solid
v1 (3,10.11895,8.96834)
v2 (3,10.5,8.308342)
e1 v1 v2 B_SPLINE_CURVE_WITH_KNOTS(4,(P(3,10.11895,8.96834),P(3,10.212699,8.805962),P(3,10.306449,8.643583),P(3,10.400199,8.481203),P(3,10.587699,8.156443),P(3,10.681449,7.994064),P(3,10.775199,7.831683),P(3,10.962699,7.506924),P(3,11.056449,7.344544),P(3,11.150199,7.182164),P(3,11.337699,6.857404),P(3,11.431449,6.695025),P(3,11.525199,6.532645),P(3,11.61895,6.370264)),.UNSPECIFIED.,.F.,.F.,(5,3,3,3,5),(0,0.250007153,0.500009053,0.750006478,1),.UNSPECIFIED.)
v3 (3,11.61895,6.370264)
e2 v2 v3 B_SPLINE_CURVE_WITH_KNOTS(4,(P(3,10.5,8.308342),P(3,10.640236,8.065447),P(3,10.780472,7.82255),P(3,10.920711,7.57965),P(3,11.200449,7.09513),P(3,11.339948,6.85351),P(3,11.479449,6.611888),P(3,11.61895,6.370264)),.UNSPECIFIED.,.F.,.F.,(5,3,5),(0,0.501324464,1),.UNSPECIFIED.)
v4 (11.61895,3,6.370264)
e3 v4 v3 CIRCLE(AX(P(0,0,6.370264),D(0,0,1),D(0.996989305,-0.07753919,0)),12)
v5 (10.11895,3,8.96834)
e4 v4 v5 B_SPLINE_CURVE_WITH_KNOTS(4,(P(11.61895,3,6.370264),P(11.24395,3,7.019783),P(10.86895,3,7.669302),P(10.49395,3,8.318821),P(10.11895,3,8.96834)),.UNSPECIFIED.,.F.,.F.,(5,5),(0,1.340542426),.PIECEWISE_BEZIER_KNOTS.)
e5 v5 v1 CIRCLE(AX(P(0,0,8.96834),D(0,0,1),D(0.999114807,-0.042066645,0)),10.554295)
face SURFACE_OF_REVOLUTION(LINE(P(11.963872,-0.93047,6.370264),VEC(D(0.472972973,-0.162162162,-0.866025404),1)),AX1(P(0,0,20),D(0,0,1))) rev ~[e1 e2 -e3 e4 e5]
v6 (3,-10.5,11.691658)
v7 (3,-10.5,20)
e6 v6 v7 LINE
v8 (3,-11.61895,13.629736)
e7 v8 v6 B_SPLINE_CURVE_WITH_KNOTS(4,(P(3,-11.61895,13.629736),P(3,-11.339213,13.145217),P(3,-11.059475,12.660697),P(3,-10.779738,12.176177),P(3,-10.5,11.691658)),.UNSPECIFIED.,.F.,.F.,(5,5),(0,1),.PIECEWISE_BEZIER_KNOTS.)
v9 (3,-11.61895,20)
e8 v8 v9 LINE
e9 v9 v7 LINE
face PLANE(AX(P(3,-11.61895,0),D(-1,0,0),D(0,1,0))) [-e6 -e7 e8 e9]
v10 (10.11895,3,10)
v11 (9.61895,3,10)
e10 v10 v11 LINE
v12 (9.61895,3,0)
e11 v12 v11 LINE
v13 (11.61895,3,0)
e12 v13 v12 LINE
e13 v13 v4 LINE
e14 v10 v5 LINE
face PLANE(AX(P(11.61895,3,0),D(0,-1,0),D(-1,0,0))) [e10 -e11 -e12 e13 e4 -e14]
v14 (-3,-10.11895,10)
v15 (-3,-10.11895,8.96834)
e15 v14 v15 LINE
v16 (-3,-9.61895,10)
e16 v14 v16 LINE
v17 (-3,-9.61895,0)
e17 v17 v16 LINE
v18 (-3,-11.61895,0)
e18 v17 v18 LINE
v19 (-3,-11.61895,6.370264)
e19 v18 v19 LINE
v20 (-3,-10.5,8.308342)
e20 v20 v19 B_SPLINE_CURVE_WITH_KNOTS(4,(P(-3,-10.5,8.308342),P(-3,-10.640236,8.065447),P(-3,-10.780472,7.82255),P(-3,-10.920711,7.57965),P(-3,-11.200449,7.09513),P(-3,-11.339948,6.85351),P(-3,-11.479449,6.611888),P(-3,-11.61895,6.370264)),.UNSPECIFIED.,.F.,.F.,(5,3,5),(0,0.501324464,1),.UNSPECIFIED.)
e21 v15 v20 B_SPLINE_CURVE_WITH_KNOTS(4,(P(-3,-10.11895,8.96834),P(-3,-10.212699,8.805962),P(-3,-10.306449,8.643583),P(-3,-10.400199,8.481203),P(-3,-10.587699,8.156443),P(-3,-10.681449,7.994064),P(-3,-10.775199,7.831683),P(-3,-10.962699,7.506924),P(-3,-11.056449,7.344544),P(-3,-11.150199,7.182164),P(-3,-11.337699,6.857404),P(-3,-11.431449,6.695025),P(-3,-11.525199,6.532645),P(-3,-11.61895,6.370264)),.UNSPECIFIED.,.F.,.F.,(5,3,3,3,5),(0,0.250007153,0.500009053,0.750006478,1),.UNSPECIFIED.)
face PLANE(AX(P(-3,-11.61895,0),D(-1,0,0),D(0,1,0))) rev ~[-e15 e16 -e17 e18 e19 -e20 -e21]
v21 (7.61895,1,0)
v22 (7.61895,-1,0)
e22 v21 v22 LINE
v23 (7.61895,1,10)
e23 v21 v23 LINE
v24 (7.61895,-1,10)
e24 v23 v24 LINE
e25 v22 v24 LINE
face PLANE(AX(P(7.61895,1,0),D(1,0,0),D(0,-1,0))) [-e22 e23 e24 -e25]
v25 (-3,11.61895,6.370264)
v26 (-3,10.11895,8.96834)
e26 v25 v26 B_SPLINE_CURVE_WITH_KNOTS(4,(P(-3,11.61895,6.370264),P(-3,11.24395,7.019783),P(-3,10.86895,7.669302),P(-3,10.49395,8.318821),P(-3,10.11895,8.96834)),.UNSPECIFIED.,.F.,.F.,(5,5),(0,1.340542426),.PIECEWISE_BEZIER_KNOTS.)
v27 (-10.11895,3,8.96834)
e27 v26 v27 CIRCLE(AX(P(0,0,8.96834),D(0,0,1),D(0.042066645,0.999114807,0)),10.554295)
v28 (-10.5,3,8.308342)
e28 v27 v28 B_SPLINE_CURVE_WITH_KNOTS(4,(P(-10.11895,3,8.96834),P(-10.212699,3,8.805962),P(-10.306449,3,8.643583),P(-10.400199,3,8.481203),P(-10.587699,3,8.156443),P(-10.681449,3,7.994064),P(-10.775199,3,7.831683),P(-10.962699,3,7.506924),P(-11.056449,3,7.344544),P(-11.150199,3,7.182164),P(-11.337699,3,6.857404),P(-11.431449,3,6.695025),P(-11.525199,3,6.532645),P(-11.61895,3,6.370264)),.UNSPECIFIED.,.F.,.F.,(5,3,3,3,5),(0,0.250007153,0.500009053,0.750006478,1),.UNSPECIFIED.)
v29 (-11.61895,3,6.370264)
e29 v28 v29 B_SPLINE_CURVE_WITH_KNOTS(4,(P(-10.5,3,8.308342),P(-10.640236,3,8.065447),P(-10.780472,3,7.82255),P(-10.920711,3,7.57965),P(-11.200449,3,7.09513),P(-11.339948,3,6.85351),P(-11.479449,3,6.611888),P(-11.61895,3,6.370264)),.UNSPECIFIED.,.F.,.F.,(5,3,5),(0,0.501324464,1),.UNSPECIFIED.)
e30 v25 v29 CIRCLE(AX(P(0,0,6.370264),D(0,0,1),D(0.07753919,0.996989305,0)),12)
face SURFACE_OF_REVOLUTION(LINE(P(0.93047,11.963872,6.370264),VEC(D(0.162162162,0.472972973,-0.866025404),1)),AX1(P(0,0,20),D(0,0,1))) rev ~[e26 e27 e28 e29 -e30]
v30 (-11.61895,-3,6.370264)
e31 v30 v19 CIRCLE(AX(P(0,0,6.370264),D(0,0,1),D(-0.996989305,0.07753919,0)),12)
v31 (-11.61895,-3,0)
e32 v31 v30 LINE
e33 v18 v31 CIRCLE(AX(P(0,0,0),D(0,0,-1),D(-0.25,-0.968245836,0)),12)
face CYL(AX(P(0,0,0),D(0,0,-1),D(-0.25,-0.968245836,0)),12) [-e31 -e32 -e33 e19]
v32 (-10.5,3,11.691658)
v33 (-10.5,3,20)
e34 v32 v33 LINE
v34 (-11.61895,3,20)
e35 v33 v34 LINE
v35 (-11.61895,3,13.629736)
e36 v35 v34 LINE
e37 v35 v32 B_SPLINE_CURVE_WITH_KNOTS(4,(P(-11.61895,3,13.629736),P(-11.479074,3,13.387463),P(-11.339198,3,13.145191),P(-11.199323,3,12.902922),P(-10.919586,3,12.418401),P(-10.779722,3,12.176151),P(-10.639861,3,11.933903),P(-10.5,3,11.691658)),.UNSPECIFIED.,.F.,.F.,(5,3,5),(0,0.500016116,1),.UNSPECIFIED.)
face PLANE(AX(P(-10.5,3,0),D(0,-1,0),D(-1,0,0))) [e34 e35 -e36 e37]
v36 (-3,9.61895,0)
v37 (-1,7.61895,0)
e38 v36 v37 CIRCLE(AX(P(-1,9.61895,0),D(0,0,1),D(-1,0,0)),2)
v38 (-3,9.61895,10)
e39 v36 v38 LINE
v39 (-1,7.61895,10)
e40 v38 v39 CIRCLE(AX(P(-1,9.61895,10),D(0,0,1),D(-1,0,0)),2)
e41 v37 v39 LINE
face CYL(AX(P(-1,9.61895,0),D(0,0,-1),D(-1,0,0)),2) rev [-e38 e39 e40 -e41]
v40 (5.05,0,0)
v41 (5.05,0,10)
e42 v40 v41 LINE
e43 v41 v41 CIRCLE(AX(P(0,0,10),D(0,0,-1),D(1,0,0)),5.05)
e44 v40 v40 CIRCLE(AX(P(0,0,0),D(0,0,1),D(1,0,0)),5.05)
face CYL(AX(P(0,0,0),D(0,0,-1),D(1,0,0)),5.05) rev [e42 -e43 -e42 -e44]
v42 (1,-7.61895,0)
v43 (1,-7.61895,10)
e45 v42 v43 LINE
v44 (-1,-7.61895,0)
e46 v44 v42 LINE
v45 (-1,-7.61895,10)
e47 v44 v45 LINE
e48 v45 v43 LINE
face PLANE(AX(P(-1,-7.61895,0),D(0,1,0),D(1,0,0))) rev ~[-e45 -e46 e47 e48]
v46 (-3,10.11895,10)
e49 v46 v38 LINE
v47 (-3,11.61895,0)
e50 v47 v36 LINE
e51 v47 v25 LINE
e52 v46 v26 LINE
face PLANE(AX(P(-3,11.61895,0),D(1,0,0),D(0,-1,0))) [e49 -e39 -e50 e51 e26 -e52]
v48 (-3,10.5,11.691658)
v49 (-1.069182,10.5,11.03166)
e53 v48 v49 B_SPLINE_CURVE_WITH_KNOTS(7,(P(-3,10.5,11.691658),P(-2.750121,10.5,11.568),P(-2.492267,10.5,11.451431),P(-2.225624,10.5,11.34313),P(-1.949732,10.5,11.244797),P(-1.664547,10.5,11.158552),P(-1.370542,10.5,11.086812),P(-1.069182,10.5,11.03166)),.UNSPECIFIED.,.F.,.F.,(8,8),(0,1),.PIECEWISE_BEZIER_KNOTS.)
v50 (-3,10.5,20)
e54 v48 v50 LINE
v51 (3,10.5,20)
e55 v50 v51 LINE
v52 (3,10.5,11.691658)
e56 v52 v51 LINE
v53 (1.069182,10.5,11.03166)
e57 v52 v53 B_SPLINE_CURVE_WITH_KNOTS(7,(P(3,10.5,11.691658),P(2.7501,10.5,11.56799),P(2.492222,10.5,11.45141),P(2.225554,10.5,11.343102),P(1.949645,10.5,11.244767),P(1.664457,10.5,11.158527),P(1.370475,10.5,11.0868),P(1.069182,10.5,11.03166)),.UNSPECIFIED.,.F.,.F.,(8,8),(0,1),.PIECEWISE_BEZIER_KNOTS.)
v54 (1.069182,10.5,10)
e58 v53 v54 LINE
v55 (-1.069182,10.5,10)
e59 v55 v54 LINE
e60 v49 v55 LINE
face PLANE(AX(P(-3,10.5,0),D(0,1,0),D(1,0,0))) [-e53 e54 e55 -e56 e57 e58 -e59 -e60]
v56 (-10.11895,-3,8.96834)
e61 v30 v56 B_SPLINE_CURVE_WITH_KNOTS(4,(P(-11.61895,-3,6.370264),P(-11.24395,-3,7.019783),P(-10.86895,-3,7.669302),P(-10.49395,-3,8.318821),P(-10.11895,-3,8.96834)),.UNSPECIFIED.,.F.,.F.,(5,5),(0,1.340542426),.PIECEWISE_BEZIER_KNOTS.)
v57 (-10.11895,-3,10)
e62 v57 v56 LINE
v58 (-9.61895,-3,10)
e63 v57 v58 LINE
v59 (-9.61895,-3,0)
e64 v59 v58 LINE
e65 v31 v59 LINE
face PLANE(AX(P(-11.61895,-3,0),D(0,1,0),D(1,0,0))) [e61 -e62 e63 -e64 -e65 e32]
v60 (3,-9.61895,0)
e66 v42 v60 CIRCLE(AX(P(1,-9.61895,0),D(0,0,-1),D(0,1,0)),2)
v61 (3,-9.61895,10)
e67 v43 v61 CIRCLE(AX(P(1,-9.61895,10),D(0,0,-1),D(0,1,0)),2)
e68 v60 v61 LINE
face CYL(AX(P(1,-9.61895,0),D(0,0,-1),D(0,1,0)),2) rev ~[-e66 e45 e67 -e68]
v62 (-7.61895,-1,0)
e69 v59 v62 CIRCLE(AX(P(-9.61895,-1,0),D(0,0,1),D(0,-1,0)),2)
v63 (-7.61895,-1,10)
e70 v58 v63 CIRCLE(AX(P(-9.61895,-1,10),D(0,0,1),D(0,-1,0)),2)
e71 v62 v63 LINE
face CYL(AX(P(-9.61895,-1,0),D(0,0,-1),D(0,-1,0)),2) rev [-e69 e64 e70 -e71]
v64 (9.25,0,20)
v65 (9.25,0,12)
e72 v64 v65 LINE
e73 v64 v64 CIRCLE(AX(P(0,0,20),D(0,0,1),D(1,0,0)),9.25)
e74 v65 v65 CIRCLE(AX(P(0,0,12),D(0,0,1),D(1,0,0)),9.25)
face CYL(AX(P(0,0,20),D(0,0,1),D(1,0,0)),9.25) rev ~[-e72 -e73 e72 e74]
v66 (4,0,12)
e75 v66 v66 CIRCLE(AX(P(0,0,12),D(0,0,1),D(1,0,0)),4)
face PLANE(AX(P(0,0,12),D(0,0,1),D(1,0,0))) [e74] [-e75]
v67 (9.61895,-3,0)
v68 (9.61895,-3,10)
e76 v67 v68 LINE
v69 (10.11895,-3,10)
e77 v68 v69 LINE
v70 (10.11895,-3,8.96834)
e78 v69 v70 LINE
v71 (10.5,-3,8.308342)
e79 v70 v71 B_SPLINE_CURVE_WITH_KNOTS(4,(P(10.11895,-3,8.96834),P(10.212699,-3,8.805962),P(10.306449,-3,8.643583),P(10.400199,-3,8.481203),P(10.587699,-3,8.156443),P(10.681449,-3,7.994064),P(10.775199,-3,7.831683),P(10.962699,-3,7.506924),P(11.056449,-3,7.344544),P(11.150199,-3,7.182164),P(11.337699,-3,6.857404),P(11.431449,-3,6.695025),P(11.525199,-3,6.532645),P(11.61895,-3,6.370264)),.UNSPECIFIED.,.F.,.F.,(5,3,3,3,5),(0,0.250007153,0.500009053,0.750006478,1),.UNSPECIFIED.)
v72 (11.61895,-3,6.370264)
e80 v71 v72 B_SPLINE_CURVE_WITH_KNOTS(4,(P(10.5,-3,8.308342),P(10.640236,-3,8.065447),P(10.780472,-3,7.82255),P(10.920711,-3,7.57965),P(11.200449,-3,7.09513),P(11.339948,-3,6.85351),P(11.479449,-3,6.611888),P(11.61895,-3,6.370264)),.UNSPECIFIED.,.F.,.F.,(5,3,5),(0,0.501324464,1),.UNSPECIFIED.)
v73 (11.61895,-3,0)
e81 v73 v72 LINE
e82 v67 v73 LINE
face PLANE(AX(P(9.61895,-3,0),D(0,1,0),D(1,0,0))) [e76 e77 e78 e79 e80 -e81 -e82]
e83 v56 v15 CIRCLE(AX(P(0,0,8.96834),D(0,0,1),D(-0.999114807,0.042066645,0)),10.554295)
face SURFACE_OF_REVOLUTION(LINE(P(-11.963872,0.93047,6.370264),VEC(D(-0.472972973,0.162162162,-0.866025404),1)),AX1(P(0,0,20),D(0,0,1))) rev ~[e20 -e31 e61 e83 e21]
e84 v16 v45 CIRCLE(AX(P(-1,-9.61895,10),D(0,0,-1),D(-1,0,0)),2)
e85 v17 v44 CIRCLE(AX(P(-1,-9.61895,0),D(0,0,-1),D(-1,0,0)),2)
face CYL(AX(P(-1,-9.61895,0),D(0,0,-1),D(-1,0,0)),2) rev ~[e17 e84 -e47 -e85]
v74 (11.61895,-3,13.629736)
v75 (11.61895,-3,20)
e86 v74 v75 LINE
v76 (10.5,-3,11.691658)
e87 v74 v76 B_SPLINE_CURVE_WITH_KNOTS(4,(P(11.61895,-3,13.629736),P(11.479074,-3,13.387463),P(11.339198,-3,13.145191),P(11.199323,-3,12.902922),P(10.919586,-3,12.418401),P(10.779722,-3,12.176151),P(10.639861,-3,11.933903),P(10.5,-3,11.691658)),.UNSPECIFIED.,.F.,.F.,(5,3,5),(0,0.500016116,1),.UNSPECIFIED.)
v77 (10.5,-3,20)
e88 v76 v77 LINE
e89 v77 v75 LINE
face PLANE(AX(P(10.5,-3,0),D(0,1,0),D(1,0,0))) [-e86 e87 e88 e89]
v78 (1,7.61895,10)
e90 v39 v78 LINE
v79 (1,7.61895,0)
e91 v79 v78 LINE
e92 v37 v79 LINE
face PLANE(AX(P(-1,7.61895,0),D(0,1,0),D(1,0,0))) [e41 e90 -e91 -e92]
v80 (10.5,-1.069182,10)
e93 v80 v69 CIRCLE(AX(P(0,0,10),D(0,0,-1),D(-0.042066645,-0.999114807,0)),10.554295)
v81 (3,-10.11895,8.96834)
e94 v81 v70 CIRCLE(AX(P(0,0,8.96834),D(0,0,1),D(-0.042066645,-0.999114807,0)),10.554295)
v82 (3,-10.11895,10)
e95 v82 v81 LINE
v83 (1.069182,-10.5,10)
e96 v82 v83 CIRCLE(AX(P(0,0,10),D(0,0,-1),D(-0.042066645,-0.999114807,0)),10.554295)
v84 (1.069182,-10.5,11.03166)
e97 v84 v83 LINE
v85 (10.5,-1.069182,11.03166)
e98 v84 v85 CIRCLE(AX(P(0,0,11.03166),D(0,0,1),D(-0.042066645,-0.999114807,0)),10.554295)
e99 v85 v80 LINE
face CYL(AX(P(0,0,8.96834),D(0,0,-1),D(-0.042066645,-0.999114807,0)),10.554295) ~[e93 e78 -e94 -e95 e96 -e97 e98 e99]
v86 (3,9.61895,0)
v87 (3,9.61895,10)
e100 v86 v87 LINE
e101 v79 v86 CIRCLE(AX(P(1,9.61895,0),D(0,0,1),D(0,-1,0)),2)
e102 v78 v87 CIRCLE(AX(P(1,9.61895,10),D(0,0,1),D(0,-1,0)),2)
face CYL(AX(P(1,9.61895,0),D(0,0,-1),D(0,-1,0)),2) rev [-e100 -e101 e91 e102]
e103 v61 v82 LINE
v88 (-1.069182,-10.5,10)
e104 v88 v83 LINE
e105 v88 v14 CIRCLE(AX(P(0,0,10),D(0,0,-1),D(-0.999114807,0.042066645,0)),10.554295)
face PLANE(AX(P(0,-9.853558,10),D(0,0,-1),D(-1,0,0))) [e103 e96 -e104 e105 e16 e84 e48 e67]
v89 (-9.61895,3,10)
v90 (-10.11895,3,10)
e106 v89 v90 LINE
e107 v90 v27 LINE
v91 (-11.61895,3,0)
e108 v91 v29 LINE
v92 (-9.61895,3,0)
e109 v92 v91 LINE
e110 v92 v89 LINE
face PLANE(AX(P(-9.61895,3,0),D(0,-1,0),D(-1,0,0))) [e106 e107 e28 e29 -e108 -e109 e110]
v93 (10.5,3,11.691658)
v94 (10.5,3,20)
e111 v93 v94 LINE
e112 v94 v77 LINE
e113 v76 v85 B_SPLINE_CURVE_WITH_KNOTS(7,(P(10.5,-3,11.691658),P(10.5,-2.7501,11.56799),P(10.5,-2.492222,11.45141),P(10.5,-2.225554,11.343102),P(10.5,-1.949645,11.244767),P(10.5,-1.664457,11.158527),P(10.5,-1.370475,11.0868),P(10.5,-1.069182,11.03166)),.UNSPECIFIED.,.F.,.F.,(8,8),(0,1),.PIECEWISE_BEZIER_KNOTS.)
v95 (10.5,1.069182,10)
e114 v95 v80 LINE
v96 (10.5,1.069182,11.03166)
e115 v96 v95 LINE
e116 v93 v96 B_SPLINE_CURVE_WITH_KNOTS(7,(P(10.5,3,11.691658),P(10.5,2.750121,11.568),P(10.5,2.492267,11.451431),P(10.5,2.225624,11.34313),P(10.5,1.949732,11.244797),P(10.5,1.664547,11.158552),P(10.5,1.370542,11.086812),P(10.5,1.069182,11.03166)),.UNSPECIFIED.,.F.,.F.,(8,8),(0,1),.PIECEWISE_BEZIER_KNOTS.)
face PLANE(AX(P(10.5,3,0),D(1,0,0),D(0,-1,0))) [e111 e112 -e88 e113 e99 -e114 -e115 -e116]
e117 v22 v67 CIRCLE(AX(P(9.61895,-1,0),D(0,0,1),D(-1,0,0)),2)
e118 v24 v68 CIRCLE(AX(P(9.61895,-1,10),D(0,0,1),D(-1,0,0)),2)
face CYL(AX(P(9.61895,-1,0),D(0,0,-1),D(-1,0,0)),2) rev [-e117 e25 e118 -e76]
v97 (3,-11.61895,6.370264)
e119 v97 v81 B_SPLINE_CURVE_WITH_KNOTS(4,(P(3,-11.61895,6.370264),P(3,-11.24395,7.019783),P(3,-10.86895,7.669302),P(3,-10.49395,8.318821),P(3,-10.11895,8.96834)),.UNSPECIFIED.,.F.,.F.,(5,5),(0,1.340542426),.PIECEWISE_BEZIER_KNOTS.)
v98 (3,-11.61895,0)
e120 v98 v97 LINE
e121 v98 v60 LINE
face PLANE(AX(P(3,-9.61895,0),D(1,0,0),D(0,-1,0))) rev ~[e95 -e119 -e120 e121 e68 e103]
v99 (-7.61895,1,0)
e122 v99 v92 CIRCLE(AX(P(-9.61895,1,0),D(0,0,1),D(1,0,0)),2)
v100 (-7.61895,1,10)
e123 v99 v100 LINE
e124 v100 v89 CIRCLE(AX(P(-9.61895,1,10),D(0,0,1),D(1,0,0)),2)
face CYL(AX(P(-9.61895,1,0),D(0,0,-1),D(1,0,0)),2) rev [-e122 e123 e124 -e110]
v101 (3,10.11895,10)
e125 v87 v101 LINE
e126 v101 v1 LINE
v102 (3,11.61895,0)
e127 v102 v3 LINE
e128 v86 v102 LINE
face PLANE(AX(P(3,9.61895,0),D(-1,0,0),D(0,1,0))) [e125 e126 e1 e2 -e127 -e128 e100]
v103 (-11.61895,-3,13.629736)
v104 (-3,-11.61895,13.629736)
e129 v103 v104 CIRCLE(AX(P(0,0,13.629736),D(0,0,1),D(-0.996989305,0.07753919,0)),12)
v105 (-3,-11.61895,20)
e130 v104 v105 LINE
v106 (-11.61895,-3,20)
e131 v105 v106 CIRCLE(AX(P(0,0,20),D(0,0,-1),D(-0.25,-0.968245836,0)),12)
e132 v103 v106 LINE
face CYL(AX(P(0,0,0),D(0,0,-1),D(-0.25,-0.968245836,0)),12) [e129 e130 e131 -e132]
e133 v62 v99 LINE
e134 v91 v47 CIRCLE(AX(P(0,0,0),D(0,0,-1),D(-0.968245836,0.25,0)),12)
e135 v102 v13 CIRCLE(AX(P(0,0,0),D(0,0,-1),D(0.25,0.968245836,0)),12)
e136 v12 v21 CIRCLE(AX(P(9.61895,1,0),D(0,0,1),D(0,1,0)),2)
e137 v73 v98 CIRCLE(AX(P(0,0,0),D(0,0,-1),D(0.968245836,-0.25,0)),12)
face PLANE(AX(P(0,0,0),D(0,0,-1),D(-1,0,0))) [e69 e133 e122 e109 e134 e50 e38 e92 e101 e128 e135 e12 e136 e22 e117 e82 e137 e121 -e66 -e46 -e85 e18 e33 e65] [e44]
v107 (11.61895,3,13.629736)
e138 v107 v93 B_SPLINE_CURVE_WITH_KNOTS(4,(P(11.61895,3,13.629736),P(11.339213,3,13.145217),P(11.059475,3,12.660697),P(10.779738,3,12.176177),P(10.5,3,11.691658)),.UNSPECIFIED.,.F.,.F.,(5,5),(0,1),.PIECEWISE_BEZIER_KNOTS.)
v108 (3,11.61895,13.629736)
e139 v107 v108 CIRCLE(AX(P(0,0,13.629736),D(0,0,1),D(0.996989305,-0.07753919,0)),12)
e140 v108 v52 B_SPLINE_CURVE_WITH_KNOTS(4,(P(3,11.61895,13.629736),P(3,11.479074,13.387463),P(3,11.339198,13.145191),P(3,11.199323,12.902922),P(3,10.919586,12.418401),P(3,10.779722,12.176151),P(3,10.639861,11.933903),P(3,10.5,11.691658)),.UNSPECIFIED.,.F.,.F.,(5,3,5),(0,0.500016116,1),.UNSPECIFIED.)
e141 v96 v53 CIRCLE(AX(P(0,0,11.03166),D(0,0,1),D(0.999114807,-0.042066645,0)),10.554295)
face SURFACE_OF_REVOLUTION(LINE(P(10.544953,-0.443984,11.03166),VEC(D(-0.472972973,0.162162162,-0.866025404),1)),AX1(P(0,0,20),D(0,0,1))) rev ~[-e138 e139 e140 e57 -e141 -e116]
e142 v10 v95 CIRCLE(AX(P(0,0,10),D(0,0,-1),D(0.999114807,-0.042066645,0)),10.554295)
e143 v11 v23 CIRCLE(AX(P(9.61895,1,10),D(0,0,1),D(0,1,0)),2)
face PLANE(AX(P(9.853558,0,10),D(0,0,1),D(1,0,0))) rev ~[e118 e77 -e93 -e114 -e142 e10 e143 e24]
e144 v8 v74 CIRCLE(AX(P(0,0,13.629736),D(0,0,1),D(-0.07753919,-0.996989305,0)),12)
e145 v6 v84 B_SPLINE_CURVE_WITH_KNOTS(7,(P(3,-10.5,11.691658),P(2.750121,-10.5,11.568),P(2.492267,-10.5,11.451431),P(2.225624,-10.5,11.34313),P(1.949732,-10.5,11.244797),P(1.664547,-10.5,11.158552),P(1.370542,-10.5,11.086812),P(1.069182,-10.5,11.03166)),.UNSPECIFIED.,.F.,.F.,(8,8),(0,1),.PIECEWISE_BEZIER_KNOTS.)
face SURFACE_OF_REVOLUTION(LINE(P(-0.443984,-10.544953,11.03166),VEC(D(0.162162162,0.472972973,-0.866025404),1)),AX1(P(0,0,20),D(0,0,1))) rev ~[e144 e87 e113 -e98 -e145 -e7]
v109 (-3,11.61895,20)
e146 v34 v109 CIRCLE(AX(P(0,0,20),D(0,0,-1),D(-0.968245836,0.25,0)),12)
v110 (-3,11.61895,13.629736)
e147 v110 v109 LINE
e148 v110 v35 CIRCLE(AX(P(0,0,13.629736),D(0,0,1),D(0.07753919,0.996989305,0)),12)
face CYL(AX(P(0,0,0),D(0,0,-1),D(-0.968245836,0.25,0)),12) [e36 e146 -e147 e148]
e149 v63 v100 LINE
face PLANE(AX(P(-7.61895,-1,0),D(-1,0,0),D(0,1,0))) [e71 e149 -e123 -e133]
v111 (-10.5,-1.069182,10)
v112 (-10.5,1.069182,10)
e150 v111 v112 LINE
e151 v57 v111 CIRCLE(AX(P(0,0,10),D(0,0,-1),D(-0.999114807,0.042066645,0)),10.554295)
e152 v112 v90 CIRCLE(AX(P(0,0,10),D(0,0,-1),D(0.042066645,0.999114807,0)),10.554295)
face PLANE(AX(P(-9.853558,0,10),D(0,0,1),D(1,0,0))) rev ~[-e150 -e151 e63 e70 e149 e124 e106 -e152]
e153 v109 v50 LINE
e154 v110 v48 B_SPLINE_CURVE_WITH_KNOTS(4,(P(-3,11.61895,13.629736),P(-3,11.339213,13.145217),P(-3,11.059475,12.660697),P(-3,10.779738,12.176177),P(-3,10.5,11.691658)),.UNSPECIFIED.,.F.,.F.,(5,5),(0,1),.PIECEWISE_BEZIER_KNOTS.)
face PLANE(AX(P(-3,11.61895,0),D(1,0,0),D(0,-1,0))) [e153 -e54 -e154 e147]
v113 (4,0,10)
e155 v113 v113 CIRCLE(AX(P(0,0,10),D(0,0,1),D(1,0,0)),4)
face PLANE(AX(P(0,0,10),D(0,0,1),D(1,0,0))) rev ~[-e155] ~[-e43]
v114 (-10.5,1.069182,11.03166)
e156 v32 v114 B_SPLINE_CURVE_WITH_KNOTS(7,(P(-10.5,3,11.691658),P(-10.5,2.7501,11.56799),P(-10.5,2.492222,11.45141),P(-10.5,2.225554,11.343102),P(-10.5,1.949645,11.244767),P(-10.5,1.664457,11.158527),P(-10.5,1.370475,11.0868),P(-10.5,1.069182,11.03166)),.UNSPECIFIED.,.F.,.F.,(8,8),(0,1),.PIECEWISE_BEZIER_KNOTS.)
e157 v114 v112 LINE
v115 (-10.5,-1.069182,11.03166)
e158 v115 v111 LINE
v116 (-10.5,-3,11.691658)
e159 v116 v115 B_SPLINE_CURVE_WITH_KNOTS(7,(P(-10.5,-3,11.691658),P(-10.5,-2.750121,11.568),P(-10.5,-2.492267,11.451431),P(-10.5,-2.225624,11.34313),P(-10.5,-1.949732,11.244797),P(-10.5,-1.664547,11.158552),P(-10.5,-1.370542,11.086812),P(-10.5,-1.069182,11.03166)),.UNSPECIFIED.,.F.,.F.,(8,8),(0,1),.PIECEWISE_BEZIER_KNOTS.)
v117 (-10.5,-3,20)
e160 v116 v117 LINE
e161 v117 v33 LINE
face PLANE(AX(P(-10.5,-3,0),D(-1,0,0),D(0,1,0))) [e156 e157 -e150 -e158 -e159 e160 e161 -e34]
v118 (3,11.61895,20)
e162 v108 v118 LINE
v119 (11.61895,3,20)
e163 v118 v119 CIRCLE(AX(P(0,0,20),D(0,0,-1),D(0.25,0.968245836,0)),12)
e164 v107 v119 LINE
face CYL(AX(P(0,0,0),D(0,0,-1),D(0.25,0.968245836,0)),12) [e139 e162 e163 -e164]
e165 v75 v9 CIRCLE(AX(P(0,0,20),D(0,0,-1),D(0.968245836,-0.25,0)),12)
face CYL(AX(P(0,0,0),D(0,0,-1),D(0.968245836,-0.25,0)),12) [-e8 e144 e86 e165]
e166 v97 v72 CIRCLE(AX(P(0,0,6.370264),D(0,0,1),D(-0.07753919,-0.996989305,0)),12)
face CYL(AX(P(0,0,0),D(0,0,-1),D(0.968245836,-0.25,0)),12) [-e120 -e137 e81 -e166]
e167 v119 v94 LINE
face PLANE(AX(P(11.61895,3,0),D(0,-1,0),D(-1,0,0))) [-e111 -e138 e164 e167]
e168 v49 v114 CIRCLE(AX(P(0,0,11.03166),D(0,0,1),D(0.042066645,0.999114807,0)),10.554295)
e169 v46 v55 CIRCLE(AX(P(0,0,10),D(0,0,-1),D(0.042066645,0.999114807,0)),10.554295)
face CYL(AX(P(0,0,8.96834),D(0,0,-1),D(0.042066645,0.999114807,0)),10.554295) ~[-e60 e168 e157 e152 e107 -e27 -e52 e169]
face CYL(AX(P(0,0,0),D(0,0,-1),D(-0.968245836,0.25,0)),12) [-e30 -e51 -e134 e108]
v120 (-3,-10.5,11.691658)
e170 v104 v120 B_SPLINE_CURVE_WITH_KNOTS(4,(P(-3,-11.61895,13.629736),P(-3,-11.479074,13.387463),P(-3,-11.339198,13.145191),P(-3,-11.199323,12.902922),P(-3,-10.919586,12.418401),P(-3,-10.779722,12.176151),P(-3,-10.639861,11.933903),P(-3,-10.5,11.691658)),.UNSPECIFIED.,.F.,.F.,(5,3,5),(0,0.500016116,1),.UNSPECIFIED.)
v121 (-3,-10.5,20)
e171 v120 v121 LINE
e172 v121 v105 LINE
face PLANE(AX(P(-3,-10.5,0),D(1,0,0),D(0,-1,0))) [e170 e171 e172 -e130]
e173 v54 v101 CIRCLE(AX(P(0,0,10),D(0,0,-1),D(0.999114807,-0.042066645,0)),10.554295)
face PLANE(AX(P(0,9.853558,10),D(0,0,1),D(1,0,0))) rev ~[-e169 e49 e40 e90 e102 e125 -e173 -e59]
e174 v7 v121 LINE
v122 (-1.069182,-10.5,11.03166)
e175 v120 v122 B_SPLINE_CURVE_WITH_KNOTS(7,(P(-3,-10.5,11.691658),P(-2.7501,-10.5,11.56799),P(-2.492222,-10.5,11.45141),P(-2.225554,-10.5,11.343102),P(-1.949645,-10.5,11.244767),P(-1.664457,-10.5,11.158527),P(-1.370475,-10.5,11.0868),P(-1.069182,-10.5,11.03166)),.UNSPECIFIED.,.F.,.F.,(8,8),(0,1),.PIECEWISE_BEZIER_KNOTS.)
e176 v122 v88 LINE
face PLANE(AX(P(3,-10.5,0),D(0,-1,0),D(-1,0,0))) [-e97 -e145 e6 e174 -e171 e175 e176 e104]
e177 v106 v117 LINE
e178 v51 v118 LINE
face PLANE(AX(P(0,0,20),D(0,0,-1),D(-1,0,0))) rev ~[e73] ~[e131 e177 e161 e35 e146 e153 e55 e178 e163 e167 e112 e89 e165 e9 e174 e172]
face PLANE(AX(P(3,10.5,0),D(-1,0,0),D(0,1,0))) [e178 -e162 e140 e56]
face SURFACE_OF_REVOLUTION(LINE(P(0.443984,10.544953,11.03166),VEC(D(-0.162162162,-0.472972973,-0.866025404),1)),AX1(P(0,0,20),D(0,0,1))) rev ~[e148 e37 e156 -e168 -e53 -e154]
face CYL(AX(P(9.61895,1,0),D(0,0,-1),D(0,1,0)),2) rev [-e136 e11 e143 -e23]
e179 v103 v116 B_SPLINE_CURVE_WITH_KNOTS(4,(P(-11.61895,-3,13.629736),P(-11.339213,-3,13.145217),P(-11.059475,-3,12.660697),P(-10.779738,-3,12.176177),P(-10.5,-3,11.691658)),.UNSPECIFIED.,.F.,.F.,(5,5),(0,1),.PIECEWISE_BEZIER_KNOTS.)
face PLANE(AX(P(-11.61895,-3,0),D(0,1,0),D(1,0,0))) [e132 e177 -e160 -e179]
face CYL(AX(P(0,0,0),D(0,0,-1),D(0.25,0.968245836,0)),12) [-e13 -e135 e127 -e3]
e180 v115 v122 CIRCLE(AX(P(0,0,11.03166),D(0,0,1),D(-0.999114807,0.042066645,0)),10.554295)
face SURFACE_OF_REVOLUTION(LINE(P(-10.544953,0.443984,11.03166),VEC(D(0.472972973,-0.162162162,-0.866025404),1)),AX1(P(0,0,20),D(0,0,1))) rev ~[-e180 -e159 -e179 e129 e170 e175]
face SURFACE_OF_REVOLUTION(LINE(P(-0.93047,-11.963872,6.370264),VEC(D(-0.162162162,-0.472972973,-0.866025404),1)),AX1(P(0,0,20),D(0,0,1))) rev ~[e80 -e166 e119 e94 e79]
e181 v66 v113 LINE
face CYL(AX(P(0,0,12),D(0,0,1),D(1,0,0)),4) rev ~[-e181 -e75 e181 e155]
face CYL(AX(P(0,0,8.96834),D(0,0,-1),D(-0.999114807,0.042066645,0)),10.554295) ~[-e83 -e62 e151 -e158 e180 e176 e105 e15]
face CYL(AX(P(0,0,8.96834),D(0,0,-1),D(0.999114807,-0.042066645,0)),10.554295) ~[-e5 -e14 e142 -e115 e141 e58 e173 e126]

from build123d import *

# Parameters (mm, degrees)
SKETCH1_R           = 5.05
BOSS_EXTRUDE1_DEPTH = 20
SKETCH2_R           = 9.25
CUT_EXTRUDE1_DEPTH  = 8
SKETCH4_R           = 7
SKETCH4_R_2         = 4
BOSS_EXTRUDE2_DEPTH = 2
CUT_EXTRUDE2_DEPTH  = 10


with BuildPart() as part:
    # Sketch1 → Boss-Extrude1 (new body)
    with BuildSketch(Plane.XY):
        with BuildLine():
            Line((-3, 10.5), (3, 10.5))
            Line((3, 10.5), (3, 11.618950039))
            ThreePointArc((3, 11.618950039), (8.485281374, 8.485281374), (11.618950039, 3))
            Line((11.618950039, 3), (10.5, 3))
            Line((10.5, 3), (10.5, -3))
            Line((10.5, -3), (11.618950039, -3))
            ThreePointArc((11.618950039, -3), (8.485281374, -8.485281374), (3, -11.618950039))
            Line((3, -11.618950039), (3, -10.5))
            Line((3, -10.5), (-3, -10.5))
            Line((-3, -10.5), (-3, -11.618950039))
            ThreePointArc((-3, -11.618950039), (-8.485281374, -8.485281374), (-11.618950039, -3))
            Line((-11.618950039, -3), (-10.5, -3))
            Line((-10.5, -3), (-10.5, 3))
            Line((-10.5, 3), (-11.618950039, 3))
            ThreePointArc((-11.618950039, 3), (-8.485281374, 8.485281374), (-3, 11.618950039))
            Line((-3, 11.618950039), (-3, 10.5))
        make_face()
        Circle(SKETCH1_R, mode=Mode.SUBTRACT)
    extrude(amount=BOSS_EXTRUDE1_DEPTH)

    # Sketch2 → Cut-Extrude1 (cut)
    with BuildSketch(Plane.XY.offset(20)):
        Circle(SKETCH2_R)
    extrude(amount=-CUT_EXTRUDE1_DEPTH, mode=Mode.SUBTRACT)

    # Cut-Sweep1: sweep along a curve in space
    with BuildLine() as cut_sweep1_path:
        ThreePointArc((9.25, 0, 20), (6.540737726, 6.540737726, 20), (0, 9.25, 20))
        ThreePointArc((0, 9.25, 20), (-6.540737726, 6.540737726, 20), (-9.25, 0, 20))
        ThreePointArc((-9.25, 0, 20), (-6.540737726, -6.540737726, 20), (0, -9.25, 20))
        ThreePointArc((0, -9.25, 20), (6.540737726, -6.540737726, 20), (9.25, 0, 20))
    # Sketch3 → Cut-Sweep1 (sweep, cut)
    with BuildSketch(Plane.XZ.offset(-3)):
        Polygon((10.118950039, 8.968340129), (10.118950039, 11.031659871), (11.618950039, 13.629736082), (11.618950039, 6.370263918), align=None)
    sweep(path=cut_sweep1_path.line, mode=Mode.SUBTRACT)

    # Sketch4 → Boss-Extrude2 (add)
    with BuildSketch(Plane.XY.offset(12)):
        Circle(SKETCH4_R)
        Circle(SKETCH4_R_2, mode=Mode.SUBTRACT)
    extrude(amount=-BOSS_EXTRUDE2_DEPTH)

    # Sketch5 → Cut-Extrude2 (cut)
    with BuildSketch(Plane(origin=(0, 0, 0), x_dir=(-1, 0, 0), z_dir=(0, 0, -1))):
        with BuildLine():
            Line((-11.618950039, 3), (-9.618950039, 3))
            ThreePointArc((-9.618950039, 3), (-8.204736476, 2.414213562), (-7.618950039, 1))
            Line((-7.618950039, 1), (-7.618950039, -1))
            ThreePointArc((-7.618950039, -1), (-8.204736476, -2.414213562), (-9.618950039, -3))
            Line((-9.618950039, -3), (-11.618950039, -3))
            Line((-11.618950039, -3), (-11.618950039, 3))
        make_face()
        with BuildLine():
            Line((-3, -11.618950039), (3, -11.618950039))
            Line((3, -11.618950039), (3, -9.618950039))
            ThreePointArc((3, -9.618950039), (2.414213562, -8.204736476), (1, -7.618950039))
            Line((1, -7.618950039), (-1, -7.618950039))
            ThreePointArc((-1, -7.618950039), (-2.414213562, -8.204736476), (-3, -9.618950039))
            Line((-3, -9.618950039), (-3, -11.618950039))
        make_face()
        with BuildLine():
            Line((3, 11.618950039), (3, 9.618950039))
            ThreePointArc((3, 9.618950039), (2.414213562, 8.204736476), (1, 7.618950039))
            Line((1, 7.618950039), (-1, 7.618950039))
            ThreePointArc((-1, 7.618950039), (-2.414213562, 8.204736476), (-3, 9.618950039))
            Line((-3, 9.618950039), (-3, 11.618950039))
            Line((-3, 11.618950039), (3, 11.618950039))
        make_face()
        with BuildLine():
            Line((11.618950039, -3), (9.618950039, -3))
            ThreePointArc((9.618950039, -3), (8.204736476, -2.414213562), (7.618950039, -1))
            Line((7.618950039, -1), (7.618950039, 1))
            ThreePointArc((7.618950039, 1), (8.204736476, 2.414213562), (9.618950039, 3))
            Line((9.618950039, 3), (11.618950039, 3))
            Line((11.618950039, 3), (11.618950039, -3))
        make_face()
    extrude(amount=-CUT_EXTRUDE2_DEPTH, mode=Mode.SUBTRACT)


solid = part.part
